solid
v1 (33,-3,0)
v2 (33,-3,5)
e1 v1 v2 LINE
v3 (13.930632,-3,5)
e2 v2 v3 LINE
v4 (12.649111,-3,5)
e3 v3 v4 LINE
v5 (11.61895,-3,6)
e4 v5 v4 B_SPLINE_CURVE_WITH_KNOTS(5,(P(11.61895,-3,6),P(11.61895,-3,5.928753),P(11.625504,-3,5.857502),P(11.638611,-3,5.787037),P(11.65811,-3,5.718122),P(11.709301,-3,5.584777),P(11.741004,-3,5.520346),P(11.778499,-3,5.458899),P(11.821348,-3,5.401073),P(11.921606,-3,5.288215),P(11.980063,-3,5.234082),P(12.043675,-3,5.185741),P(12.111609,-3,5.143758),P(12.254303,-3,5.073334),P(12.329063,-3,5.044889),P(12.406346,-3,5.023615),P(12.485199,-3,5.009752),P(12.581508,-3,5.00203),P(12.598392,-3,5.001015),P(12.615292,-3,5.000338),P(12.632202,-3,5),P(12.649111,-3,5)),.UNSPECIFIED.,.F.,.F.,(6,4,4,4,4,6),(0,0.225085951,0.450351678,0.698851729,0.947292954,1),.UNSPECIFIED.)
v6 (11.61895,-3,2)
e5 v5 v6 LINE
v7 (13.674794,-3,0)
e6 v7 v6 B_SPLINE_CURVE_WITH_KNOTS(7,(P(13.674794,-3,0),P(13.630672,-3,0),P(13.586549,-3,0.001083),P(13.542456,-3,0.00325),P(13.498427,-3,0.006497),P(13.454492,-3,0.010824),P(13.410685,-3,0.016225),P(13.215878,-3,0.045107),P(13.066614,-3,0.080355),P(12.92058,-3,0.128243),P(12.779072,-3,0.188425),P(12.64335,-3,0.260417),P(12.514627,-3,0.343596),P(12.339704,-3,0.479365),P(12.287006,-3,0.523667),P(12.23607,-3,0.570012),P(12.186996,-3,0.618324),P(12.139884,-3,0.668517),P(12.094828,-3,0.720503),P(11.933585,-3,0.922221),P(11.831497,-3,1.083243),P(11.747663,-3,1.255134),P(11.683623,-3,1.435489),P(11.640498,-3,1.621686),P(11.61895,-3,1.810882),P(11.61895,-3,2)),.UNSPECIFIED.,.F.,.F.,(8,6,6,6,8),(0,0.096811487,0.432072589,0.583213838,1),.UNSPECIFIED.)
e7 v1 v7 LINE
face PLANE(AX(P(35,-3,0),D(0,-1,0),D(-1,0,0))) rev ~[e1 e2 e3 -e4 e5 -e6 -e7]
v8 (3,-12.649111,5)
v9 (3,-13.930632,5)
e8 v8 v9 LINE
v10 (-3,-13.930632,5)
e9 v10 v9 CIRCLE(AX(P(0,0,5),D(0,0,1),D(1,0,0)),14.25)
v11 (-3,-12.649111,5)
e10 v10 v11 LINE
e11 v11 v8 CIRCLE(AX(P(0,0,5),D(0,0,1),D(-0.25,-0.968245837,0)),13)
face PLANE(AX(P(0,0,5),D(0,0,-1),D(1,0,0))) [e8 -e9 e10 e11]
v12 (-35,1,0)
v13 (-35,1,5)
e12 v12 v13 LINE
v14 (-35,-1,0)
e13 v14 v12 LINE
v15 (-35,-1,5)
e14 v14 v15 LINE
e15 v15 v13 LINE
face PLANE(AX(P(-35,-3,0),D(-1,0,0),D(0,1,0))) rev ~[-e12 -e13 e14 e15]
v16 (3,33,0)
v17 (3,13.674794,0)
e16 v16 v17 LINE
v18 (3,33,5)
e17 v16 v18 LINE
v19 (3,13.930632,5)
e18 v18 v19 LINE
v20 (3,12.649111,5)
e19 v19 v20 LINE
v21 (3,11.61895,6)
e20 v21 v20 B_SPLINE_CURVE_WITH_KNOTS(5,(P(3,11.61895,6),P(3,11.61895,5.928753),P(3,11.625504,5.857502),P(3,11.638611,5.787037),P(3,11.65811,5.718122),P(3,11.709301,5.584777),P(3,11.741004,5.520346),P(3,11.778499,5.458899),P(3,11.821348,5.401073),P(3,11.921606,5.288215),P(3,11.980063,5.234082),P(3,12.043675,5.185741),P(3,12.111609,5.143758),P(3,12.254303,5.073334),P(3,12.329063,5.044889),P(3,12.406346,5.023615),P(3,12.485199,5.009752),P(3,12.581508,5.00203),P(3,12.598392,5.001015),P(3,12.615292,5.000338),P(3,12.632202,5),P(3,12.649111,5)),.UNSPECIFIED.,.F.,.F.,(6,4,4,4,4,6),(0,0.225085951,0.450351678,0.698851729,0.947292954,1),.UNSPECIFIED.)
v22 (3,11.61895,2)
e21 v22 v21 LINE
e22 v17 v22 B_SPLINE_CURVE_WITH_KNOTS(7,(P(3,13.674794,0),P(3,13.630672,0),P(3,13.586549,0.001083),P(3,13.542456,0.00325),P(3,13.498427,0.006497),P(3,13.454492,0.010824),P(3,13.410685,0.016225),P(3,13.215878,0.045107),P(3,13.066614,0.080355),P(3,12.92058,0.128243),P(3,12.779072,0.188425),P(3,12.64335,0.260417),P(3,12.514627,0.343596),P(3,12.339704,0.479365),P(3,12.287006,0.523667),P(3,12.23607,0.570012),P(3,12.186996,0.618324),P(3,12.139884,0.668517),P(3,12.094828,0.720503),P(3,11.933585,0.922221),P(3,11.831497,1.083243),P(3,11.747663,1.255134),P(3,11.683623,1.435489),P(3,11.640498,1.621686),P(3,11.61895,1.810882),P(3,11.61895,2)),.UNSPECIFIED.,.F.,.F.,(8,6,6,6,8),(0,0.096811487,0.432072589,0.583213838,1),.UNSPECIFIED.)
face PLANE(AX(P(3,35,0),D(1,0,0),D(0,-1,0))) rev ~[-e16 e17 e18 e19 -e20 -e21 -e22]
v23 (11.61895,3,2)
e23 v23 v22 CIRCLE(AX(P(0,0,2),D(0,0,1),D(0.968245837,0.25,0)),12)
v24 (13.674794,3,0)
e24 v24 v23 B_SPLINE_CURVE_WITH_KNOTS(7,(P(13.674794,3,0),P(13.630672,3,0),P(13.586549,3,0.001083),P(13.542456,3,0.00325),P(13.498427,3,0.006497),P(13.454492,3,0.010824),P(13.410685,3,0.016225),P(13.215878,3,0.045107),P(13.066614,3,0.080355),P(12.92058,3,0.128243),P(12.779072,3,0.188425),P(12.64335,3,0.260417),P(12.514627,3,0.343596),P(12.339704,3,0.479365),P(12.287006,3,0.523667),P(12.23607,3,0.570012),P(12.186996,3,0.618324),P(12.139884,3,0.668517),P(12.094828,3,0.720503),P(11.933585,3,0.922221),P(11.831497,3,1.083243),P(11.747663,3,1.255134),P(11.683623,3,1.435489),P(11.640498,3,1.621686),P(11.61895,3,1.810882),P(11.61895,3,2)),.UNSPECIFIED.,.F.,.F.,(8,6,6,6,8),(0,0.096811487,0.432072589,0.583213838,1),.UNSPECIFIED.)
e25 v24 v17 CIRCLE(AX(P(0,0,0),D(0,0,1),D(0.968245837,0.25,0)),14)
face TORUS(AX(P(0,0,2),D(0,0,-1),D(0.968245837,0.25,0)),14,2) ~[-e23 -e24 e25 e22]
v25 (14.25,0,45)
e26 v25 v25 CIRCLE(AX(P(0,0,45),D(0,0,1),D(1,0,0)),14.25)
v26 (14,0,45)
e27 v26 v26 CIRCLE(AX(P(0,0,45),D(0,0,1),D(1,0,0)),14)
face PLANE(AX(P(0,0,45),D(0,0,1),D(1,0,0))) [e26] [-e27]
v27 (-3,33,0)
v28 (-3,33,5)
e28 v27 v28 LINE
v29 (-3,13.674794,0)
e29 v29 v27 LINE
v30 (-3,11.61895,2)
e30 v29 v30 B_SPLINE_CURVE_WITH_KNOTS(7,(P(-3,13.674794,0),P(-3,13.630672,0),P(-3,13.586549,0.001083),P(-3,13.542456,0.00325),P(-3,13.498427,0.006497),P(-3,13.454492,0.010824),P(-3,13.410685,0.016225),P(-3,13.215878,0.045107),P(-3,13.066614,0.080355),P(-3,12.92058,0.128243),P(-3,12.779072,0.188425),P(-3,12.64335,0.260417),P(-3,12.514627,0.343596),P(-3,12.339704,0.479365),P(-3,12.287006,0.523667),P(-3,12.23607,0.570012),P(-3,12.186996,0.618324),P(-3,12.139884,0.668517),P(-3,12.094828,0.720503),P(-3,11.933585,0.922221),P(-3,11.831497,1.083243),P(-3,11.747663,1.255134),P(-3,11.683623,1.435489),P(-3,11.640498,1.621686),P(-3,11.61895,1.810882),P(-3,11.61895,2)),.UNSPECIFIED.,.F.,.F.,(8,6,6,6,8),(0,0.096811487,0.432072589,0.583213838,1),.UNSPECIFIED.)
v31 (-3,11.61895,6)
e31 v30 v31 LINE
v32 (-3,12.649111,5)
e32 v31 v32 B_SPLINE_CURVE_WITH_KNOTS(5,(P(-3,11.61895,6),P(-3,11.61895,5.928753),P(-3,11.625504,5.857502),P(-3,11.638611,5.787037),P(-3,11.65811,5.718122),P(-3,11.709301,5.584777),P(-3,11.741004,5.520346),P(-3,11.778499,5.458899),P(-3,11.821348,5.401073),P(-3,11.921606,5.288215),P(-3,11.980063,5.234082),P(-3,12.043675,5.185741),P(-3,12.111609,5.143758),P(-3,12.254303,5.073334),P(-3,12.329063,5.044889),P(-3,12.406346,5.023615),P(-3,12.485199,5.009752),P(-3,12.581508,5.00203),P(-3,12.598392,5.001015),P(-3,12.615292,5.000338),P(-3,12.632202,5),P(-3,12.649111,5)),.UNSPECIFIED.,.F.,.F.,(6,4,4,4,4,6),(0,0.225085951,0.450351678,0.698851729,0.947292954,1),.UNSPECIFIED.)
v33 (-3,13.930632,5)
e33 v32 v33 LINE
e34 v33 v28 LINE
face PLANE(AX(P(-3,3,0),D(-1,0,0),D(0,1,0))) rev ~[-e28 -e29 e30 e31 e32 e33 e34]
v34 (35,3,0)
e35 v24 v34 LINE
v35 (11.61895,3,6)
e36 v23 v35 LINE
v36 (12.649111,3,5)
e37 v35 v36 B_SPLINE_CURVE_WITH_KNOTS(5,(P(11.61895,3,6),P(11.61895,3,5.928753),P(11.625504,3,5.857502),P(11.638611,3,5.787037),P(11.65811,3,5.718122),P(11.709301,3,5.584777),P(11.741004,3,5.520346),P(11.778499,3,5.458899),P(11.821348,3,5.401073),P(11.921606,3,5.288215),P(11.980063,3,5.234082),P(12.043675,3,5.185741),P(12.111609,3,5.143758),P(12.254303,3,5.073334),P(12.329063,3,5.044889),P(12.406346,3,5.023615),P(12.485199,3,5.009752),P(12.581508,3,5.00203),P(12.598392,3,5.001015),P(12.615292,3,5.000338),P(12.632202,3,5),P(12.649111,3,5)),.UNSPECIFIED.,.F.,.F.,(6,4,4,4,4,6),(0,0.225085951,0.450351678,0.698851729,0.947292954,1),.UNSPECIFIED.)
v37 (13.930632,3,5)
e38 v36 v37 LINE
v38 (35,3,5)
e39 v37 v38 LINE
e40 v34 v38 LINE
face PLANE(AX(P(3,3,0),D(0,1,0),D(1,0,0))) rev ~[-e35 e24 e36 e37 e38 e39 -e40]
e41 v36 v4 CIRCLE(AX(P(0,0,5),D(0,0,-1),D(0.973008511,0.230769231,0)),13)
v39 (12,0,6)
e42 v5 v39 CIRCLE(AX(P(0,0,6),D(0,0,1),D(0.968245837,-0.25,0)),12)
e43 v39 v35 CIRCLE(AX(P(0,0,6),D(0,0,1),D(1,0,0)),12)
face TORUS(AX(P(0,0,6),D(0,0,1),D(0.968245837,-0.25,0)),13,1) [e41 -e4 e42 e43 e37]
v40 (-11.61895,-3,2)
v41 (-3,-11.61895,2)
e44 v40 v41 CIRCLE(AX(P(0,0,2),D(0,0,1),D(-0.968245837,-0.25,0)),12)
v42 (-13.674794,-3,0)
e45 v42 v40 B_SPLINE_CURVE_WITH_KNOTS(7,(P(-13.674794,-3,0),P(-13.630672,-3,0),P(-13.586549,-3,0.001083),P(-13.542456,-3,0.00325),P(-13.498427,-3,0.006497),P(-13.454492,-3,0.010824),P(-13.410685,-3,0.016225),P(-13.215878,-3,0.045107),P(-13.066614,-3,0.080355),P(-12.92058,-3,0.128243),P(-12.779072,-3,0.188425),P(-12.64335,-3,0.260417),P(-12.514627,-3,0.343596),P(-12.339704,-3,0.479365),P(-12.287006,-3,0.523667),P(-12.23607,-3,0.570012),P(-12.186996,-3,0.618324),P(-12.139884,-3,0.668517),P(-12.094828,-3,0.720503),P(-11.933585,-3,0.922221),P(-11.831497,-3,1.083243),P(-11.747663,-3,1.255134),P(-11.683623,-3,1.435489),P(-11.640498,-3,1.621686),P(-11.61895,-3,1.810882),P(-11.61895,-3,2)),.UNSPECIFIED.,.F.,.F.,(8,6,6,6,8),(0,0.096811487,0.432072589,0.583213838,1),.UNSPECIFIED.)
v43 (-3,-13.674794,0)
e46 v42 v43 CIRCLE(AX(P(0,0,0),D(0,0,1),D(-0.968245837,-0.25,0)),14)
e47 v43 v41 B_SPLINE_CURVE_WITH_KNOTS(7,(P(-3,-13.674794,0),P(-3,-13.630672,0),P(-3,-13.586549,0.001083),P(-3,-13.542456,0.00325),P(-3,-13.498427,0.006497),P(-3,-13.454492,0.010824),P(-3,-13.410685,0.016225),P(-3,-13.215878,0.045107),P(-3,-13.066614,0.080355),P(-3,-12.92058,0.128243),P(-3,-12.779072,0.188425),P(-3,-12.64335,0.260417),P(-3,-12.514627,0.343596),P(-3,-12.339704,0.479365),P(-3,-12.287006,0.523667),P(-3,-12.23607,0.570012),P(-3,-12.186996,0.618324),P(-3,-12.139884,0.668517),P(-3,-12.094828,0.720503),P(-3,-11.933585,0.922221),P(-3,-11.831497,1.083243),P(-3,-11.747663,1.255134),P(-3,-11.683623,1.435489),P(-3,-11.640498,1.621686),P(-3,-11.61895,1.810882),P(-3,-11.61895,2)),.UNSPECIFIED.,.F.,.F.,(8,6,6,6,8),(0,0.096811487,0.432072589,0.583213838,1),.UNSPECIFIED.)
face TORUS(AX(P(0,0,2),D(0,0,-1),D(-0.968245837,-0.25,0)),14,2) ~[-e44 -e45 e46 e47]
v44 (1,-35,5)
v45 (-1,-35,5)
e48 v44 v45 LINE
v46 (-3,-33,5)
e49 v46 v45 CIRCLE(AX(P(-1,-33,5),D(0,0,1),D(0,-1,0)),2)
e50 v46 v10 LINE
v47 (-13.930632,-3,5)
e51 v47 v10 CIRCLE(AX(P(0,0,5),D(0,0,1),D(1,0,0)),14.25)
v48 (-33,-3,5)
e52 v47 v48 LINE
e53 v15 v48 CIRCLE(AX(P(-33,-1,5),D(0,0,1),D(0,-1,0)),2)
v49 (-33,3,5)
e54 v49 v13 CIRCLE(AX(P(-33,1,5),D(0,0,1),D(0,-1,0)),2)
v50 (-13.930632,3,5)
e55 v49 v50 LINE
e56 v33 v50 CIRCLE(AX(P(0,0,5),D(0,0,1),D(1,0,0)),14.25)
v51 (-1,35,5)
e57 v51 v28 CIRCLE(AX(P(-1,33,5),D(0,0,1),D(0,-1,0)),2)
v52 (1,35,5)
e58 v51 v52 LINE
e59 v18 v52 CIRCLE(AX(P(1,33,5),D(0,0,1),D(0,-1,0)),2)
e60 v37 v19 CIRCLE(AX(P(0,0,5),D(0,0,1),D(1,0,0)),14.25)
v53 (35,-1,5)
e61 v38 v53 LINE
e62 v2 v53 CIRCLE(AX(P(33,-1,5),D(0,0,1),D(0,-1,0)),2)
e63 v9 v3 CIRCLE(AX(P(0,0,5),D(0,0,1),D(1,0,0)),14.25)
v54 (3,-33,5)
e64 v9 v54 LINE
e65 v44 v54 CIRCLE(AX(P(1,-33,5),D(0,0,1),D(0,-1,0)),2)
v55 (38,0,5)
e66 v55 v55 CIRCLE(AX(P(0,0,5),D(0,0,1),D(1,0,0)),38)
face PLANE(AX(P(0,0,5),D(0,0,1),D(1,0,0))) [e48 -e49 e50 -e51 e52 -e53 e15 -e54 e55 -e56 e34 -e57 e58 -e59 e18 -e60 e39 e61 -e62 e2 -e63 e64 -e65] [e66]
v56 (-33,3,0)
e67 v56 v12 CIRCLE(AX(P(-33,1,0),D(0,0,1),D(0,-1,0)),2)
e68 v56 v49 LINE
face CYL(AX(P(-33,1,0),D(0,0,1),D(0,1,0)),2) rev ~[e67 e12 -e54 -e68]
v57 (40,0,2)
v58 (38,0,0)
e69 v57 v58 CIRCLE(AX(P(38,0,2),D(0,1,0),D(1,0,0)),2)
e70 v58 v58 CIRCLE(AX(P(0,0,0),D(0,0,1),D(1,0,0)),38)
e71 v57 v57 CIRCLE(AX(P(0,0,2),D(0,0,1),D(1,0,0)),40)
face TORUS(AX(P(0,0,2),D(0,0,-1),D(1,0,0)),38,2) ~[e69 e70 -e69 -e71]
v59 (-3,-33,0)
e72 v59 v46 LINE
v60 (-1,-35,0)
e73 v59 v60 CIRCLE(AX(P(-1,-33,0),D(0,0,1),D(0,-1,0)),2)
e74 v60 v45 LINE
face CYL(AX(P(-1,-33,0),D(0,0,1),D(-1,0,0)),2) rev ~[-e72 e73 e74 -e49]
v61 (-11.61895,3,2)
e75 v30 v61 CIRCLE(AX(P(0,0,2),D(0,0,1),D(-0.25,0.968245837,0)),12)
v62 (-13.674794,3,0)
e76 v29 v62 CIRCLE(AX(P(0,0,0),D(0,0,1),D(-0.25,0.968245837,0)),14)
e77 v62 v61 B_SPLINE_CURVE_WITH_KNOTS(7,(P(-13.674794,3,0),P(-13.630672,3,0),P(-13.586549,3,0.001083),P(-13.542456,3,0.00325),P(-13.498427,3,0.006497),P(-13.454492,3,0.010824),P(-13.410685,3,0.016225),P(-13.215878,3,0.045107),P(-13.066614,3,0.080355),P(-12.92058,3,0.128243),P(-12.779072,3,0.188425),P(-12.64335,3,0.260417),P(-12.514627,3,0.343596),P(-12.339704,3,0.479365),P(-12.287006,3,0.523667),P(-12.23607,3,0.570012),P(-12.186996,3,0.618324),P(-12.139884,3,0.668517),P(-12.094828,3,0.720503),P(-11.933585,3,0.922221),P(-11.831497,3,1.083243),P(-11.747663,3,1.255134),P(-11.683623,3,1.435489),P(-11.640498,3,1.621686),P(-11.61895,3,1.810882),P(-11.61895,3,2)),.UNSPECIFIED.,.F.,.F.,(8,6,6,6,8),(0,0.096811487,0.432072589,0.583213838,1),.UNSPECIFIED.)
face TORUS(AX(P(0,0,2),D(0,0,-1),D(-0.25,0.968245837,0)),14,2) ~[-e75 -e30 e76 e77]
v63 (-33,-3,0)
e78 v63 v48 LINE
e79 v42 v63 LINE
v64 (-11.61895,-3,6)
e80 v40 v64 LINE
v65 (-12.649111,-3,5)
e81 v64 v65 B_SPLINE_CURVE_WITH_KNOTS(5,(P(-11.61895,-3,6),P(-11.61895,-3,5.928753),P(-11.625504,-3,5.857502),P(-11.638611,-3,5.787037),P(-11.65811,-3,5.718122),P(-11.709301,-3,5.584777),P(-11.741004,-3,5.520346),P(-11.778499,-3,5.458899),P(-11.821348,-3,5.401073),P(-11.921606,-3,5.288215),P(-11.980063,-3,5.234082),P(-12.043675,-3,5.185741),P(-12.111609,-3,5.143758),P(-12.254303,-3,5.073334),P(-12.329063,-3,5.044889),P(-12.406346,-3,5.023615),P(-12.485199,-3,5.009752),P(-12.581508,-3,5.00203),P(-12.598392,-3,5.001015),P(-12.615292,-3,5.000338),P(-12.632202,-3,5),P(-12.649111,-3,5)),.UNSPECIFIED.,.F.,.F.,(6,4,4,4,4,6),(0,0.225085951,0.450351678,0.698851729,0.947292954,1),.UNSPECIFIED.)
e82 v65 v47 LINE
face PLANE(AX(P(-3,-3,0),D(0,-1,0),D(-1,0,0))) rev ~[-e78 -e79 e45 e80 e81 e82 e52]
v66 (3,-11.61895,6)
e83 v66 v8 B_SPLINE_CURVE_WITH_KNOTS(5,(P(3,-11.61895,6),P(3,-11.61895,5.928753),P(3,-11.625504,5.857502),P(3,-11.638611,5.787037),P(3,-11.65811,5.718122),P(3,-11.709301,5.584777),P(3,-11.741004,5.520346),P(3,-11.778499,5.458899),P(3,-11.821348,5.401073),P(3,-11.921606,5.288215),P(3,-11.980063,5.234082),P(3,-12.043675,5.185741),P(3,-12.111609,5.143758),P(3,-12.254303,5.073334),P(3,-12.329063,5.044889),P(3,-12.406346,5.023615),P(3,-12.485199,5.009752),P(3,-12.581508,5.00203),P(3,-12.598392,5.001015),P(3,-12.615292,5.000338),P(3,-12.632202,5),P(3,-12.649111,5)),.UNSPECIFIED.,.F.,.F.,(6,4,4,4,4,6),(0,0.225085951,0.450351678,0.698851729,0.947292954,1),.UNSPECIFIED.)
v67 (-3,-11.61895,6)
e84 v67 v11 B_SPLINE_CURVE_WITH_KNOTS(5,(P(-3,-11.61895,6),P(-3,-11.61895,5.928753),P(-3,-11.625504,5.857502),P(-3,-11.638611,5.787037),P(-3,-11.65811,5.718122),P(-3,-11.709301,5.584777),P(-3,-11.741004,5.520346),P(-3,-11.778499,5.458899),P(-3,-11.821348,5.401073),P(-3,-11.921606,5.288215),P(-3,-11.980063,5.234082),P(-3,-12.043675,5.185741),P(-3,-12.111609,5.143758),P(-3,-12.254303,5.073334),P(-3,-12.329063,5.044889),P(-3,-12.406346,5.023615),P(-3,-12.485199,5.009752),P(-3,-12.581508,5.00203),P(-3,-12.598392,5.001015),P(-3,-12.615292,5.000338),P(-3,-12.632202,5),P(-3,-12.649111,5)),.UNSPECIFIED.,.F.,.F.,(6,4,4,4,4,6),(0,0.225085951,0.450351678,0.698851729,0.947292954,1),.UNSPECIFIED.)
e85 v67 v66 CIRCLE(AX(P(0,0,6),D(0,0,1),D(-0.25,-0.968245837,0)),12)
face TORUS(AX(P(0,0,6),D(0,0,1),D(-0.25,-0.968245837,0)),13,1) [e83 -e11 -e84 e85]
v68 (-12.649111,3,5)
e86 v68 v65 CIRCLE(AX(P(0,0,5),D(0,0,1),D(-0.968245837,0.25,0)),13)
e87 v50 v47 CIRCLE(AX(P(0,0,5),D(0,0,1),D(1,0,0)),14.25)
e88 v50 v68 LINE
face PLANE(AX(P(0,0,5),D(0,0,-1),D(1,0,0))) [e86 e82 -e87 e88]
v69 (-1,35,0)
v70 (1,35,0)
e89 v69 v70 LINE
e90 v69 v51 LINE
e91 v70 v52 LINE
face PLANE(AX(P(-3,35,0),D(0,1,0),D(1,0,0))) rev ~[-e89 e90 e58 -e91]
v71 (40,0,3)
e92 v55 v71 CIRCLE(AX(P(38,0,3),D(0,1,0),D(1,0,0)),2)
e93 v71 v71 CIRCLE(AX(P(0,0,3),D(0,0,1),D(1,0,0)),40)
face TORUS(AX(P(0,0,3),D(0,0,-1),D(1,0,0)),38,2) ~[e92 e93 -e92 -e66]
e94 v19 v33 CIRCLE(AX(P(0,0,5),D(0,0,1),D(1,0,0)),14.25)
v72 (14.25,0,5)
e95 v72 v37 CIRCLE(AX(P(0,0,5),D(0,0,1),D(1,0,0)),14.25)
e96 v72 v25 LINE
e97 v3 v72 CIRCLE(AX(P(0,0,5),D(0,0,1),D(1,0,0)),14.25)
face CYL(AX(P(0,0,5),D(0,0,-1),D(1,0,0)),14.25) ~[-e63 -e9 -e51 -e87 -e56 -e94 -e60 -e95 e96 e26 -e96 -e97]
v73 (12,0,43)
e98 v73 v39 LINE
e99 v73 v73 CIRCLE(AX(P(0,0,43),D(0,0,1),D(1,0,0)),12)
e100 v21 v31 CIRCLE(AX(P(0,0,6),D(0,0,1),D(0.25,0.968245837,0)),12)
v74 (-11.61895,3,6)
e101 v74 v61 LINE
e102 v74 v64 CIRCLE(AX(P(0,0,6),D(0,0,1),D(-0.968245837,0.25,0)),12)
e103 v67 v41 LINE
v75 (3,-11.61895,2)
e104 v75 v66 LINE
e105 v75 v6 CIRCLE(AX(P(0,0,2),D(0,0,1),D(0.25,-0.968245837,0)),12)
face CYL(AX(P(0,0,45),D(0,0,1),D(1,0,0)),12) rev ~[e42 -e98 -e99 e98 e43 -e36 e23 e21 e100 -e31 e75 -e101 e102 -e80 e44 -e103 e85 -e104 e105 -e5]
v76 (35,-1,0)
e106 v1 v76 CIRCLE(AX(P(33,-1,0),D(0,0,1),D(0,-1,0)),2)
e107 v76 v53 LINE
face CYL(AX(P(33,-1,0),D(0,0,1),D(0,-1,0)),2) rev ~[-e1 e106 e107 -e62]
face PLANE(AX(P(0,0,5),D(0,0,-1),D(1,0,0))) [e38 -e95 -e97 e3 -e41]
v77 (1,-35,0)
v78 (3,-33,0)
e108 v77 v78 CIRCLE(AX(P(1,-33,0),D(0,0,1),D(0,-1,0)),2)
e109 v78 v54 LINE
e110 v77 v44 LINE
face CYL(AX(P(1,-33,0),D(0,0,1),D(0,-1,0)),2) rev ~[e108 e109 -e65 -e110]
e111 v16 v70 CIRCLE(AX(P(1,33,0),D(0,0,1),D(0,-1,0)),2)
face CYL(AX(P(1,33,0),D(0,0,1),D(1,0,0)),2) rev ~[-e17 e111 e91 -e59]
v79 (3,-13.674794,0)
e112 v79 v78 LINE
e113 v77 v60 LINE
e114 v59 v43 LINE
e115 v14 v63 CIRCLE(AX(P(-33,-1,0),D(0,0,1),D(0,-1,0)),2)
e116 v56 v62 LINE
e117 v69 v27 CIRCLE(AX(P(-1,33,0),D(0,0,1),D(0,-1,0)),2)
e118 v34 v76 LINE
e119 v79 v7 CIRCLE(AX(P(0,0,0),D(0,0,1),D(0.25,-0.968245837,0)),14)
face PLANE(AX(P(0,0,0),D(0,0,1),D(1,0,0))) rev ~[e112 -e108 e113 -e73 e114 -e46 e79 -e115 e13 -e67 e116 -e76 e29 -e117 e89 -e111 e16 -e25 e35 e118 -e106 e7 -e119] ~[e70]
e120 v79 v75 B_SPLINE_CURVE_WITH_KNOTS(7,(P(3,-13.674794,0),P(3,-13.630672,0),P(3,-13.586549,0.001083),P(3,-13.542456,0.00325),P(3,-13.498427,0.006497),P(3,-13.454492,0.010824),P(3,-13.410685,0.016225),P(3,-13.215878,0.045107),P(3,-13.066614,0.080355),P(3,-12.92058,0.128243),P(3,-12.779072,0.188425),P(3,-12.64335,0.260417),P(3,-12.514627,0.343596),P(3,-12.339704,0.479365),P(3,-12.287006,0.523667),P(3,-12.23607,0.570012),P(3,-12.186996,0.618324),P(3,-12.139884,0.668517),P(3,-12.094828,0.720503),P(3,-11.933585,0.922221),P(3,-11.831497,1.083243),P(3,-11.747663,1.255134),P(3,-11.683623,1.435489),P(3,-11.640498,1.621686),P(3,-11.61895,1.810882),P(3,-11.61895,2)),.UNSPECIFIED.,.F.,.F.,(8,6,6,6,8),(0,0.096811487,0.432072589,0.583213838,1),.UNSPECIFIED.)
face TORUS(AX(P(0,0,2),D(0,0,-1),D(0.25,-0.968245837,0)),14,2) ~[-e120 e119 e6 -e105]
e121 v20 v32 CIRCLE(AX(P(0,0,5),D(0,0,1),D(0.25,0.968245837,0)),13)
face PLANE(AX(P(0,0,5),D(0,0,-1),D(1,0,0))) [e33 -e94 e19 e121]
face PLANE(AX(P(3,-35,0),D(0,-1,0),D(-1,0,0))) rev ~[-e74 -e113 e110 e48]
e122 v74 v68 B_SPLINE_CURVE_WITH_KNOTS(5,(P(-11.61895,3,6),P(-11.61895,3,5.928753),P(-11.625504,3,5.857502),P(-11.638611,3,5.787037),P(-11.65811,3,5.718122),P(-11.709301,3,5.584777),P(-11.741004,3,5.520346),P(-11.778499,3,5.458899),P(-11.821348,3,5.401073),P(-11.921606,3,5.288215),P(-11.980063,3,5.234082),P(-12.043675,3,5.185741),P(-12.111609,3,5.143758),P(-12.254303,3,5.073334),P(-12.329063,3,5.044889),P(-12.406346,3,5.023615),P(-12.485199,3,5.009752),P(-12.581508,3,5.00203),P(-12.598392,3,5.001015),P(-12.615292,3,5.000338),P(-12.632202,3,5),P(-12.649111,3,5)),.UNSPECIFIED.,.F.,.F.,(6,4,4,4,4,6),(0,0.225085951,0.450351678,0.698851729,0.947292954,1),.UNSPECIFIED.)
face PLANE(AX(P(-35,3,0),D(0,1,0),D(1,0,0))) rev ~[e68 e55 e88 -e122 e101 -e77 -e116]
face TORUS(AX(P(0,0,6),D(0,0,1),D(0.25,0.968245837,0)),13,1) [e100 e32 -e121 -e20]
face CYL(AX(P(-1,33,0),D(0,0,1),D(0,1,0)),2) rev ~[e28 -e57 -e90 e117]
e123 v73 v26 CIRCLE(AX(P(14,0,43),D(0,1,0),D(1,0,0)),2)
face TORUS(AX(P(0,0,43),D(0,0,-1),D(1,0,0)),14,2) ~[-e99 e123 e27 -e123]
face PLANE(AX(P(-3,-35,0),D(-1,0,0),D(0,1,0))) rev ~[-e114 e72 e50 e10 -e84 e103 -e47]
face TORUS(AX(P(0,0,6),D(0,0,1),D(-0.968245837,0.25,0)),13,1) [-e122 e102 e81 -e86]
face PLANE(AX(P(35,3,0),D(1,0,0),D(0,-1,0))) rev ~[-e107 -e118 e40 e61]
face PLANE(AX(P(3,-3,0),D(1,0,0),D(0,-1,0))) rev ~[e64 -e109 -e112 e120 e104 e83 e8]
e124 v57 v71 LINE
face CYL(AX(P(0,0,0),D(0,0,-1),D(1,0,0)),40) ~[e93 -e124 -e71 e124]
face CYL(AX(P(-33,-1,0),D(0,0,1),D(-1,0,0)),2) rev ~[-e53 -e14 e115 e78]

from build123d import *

# Parameters (mm, degrees)
SKETCH_R        = 40
PAD_DEPTH       = 5
SKETCH001_R     = 14.25
PAD001_DEPTH    = 40
SKETCH002_R     = 12
POCKET_DEPTH    = 45.001
POCKET001_DEPTH = 5
FILLET_R        = 2
FILLET001_R     = 2
FILLET002_R     = 1
FILLET003_R     = 2
FILLET004_R     = 2


with BuildPart() as part:
    # Sketch → Pad (new body)
    with BuildSketch(Plane.XY):
        Circle(SKETCH_R)
    extrude(amount=PAD_DEPTH)

    # Sketch001 (on Face3 of Pad) → Pad001 (join)
    with BuildSketch(Plane.XY.offset(5)):
        Circle(SKETCH001_R)
    extrude(amount=PAD001_DEPTH)

    # Sketch002 (on Face5 of Pad001) → Pocket (cut, through all)
    with BuildSketch(Plane.XY.offset(45)):
        Circle(SKETCH002_R)
    extrude(amount=-POCKET_DEPTH, mode=Mode.SUBTRACT)

    # Sketch003 (on Face2 of Pocket) → Pocket001 (cut)
    with BuildSketch(Plane(origin=(0, 0, 0), x_dir=(1, 0, 0), z_dir=(0, 0, -1))):
        Polygon((-3, 35), (-3, 3), (-35, 3), (-35, -3), (-3, -3), (-3, -35), (3, -35), (3, -3), (35, -3), (35, 3), (3, 3), (3, 35), align=None)
    extrude(amount=-POCKET001_DEPTH, mode=Mode.SUBTRACT)

    # Fillet
    fillet_edges = [part.edges().sort_by_distance(p)[0] for p in [
        (-3, -35, 2.5),
        (3, -35, 2.5),
        (35, -3, 2.5),
        (-35, -3, 2.5),
        (-35, 3, 2.5),
        (-3, 35, 2.5),
        (3, 35, 2.5),
    ]]
    fillet(fillet_edges, radius=FILLET_R)

    # Fillet001
    fillet001_edges = [part.edges().sort_by_distance(p)[0] for p in [
        (8.485281, -8.485281, 0),
        (8.485281, 8.485281, 0),
        (-8.485281, 8.485281, 0),
        (-8.485281, -8.485281, 0),
    ]]
    fillet(fillet001_edges, radius=FILLET001_R)

    # Fillet002
    fillet002_edges = [part.edges().sort_by_distance(p)[0] for p in [
        (0, -12, 5),
        (11.904356, -1.512052, 5),
        (0, 12, 5),
        (-12, 0, 5),
    ]]
    fillet(fillet002_edges, radius=FILLET002_R)

    # Fillet003
    fillet003_edges = [part.edges().sort_by_distance(p)[0] for p in [
        (-40, 0, 5),
        (-40, 0, 0),
    ]]
    fillet(fillet003_edges, radius=FILLET003_R)

    # Fillet004
    fillet004_edges = [part.edges().sort_by_distance(p)[0] for p in [
        (-12, 0, 45),
    ]]
    fillet(fillet004_edges, radius=FILLET004_R)


solid = part.part
